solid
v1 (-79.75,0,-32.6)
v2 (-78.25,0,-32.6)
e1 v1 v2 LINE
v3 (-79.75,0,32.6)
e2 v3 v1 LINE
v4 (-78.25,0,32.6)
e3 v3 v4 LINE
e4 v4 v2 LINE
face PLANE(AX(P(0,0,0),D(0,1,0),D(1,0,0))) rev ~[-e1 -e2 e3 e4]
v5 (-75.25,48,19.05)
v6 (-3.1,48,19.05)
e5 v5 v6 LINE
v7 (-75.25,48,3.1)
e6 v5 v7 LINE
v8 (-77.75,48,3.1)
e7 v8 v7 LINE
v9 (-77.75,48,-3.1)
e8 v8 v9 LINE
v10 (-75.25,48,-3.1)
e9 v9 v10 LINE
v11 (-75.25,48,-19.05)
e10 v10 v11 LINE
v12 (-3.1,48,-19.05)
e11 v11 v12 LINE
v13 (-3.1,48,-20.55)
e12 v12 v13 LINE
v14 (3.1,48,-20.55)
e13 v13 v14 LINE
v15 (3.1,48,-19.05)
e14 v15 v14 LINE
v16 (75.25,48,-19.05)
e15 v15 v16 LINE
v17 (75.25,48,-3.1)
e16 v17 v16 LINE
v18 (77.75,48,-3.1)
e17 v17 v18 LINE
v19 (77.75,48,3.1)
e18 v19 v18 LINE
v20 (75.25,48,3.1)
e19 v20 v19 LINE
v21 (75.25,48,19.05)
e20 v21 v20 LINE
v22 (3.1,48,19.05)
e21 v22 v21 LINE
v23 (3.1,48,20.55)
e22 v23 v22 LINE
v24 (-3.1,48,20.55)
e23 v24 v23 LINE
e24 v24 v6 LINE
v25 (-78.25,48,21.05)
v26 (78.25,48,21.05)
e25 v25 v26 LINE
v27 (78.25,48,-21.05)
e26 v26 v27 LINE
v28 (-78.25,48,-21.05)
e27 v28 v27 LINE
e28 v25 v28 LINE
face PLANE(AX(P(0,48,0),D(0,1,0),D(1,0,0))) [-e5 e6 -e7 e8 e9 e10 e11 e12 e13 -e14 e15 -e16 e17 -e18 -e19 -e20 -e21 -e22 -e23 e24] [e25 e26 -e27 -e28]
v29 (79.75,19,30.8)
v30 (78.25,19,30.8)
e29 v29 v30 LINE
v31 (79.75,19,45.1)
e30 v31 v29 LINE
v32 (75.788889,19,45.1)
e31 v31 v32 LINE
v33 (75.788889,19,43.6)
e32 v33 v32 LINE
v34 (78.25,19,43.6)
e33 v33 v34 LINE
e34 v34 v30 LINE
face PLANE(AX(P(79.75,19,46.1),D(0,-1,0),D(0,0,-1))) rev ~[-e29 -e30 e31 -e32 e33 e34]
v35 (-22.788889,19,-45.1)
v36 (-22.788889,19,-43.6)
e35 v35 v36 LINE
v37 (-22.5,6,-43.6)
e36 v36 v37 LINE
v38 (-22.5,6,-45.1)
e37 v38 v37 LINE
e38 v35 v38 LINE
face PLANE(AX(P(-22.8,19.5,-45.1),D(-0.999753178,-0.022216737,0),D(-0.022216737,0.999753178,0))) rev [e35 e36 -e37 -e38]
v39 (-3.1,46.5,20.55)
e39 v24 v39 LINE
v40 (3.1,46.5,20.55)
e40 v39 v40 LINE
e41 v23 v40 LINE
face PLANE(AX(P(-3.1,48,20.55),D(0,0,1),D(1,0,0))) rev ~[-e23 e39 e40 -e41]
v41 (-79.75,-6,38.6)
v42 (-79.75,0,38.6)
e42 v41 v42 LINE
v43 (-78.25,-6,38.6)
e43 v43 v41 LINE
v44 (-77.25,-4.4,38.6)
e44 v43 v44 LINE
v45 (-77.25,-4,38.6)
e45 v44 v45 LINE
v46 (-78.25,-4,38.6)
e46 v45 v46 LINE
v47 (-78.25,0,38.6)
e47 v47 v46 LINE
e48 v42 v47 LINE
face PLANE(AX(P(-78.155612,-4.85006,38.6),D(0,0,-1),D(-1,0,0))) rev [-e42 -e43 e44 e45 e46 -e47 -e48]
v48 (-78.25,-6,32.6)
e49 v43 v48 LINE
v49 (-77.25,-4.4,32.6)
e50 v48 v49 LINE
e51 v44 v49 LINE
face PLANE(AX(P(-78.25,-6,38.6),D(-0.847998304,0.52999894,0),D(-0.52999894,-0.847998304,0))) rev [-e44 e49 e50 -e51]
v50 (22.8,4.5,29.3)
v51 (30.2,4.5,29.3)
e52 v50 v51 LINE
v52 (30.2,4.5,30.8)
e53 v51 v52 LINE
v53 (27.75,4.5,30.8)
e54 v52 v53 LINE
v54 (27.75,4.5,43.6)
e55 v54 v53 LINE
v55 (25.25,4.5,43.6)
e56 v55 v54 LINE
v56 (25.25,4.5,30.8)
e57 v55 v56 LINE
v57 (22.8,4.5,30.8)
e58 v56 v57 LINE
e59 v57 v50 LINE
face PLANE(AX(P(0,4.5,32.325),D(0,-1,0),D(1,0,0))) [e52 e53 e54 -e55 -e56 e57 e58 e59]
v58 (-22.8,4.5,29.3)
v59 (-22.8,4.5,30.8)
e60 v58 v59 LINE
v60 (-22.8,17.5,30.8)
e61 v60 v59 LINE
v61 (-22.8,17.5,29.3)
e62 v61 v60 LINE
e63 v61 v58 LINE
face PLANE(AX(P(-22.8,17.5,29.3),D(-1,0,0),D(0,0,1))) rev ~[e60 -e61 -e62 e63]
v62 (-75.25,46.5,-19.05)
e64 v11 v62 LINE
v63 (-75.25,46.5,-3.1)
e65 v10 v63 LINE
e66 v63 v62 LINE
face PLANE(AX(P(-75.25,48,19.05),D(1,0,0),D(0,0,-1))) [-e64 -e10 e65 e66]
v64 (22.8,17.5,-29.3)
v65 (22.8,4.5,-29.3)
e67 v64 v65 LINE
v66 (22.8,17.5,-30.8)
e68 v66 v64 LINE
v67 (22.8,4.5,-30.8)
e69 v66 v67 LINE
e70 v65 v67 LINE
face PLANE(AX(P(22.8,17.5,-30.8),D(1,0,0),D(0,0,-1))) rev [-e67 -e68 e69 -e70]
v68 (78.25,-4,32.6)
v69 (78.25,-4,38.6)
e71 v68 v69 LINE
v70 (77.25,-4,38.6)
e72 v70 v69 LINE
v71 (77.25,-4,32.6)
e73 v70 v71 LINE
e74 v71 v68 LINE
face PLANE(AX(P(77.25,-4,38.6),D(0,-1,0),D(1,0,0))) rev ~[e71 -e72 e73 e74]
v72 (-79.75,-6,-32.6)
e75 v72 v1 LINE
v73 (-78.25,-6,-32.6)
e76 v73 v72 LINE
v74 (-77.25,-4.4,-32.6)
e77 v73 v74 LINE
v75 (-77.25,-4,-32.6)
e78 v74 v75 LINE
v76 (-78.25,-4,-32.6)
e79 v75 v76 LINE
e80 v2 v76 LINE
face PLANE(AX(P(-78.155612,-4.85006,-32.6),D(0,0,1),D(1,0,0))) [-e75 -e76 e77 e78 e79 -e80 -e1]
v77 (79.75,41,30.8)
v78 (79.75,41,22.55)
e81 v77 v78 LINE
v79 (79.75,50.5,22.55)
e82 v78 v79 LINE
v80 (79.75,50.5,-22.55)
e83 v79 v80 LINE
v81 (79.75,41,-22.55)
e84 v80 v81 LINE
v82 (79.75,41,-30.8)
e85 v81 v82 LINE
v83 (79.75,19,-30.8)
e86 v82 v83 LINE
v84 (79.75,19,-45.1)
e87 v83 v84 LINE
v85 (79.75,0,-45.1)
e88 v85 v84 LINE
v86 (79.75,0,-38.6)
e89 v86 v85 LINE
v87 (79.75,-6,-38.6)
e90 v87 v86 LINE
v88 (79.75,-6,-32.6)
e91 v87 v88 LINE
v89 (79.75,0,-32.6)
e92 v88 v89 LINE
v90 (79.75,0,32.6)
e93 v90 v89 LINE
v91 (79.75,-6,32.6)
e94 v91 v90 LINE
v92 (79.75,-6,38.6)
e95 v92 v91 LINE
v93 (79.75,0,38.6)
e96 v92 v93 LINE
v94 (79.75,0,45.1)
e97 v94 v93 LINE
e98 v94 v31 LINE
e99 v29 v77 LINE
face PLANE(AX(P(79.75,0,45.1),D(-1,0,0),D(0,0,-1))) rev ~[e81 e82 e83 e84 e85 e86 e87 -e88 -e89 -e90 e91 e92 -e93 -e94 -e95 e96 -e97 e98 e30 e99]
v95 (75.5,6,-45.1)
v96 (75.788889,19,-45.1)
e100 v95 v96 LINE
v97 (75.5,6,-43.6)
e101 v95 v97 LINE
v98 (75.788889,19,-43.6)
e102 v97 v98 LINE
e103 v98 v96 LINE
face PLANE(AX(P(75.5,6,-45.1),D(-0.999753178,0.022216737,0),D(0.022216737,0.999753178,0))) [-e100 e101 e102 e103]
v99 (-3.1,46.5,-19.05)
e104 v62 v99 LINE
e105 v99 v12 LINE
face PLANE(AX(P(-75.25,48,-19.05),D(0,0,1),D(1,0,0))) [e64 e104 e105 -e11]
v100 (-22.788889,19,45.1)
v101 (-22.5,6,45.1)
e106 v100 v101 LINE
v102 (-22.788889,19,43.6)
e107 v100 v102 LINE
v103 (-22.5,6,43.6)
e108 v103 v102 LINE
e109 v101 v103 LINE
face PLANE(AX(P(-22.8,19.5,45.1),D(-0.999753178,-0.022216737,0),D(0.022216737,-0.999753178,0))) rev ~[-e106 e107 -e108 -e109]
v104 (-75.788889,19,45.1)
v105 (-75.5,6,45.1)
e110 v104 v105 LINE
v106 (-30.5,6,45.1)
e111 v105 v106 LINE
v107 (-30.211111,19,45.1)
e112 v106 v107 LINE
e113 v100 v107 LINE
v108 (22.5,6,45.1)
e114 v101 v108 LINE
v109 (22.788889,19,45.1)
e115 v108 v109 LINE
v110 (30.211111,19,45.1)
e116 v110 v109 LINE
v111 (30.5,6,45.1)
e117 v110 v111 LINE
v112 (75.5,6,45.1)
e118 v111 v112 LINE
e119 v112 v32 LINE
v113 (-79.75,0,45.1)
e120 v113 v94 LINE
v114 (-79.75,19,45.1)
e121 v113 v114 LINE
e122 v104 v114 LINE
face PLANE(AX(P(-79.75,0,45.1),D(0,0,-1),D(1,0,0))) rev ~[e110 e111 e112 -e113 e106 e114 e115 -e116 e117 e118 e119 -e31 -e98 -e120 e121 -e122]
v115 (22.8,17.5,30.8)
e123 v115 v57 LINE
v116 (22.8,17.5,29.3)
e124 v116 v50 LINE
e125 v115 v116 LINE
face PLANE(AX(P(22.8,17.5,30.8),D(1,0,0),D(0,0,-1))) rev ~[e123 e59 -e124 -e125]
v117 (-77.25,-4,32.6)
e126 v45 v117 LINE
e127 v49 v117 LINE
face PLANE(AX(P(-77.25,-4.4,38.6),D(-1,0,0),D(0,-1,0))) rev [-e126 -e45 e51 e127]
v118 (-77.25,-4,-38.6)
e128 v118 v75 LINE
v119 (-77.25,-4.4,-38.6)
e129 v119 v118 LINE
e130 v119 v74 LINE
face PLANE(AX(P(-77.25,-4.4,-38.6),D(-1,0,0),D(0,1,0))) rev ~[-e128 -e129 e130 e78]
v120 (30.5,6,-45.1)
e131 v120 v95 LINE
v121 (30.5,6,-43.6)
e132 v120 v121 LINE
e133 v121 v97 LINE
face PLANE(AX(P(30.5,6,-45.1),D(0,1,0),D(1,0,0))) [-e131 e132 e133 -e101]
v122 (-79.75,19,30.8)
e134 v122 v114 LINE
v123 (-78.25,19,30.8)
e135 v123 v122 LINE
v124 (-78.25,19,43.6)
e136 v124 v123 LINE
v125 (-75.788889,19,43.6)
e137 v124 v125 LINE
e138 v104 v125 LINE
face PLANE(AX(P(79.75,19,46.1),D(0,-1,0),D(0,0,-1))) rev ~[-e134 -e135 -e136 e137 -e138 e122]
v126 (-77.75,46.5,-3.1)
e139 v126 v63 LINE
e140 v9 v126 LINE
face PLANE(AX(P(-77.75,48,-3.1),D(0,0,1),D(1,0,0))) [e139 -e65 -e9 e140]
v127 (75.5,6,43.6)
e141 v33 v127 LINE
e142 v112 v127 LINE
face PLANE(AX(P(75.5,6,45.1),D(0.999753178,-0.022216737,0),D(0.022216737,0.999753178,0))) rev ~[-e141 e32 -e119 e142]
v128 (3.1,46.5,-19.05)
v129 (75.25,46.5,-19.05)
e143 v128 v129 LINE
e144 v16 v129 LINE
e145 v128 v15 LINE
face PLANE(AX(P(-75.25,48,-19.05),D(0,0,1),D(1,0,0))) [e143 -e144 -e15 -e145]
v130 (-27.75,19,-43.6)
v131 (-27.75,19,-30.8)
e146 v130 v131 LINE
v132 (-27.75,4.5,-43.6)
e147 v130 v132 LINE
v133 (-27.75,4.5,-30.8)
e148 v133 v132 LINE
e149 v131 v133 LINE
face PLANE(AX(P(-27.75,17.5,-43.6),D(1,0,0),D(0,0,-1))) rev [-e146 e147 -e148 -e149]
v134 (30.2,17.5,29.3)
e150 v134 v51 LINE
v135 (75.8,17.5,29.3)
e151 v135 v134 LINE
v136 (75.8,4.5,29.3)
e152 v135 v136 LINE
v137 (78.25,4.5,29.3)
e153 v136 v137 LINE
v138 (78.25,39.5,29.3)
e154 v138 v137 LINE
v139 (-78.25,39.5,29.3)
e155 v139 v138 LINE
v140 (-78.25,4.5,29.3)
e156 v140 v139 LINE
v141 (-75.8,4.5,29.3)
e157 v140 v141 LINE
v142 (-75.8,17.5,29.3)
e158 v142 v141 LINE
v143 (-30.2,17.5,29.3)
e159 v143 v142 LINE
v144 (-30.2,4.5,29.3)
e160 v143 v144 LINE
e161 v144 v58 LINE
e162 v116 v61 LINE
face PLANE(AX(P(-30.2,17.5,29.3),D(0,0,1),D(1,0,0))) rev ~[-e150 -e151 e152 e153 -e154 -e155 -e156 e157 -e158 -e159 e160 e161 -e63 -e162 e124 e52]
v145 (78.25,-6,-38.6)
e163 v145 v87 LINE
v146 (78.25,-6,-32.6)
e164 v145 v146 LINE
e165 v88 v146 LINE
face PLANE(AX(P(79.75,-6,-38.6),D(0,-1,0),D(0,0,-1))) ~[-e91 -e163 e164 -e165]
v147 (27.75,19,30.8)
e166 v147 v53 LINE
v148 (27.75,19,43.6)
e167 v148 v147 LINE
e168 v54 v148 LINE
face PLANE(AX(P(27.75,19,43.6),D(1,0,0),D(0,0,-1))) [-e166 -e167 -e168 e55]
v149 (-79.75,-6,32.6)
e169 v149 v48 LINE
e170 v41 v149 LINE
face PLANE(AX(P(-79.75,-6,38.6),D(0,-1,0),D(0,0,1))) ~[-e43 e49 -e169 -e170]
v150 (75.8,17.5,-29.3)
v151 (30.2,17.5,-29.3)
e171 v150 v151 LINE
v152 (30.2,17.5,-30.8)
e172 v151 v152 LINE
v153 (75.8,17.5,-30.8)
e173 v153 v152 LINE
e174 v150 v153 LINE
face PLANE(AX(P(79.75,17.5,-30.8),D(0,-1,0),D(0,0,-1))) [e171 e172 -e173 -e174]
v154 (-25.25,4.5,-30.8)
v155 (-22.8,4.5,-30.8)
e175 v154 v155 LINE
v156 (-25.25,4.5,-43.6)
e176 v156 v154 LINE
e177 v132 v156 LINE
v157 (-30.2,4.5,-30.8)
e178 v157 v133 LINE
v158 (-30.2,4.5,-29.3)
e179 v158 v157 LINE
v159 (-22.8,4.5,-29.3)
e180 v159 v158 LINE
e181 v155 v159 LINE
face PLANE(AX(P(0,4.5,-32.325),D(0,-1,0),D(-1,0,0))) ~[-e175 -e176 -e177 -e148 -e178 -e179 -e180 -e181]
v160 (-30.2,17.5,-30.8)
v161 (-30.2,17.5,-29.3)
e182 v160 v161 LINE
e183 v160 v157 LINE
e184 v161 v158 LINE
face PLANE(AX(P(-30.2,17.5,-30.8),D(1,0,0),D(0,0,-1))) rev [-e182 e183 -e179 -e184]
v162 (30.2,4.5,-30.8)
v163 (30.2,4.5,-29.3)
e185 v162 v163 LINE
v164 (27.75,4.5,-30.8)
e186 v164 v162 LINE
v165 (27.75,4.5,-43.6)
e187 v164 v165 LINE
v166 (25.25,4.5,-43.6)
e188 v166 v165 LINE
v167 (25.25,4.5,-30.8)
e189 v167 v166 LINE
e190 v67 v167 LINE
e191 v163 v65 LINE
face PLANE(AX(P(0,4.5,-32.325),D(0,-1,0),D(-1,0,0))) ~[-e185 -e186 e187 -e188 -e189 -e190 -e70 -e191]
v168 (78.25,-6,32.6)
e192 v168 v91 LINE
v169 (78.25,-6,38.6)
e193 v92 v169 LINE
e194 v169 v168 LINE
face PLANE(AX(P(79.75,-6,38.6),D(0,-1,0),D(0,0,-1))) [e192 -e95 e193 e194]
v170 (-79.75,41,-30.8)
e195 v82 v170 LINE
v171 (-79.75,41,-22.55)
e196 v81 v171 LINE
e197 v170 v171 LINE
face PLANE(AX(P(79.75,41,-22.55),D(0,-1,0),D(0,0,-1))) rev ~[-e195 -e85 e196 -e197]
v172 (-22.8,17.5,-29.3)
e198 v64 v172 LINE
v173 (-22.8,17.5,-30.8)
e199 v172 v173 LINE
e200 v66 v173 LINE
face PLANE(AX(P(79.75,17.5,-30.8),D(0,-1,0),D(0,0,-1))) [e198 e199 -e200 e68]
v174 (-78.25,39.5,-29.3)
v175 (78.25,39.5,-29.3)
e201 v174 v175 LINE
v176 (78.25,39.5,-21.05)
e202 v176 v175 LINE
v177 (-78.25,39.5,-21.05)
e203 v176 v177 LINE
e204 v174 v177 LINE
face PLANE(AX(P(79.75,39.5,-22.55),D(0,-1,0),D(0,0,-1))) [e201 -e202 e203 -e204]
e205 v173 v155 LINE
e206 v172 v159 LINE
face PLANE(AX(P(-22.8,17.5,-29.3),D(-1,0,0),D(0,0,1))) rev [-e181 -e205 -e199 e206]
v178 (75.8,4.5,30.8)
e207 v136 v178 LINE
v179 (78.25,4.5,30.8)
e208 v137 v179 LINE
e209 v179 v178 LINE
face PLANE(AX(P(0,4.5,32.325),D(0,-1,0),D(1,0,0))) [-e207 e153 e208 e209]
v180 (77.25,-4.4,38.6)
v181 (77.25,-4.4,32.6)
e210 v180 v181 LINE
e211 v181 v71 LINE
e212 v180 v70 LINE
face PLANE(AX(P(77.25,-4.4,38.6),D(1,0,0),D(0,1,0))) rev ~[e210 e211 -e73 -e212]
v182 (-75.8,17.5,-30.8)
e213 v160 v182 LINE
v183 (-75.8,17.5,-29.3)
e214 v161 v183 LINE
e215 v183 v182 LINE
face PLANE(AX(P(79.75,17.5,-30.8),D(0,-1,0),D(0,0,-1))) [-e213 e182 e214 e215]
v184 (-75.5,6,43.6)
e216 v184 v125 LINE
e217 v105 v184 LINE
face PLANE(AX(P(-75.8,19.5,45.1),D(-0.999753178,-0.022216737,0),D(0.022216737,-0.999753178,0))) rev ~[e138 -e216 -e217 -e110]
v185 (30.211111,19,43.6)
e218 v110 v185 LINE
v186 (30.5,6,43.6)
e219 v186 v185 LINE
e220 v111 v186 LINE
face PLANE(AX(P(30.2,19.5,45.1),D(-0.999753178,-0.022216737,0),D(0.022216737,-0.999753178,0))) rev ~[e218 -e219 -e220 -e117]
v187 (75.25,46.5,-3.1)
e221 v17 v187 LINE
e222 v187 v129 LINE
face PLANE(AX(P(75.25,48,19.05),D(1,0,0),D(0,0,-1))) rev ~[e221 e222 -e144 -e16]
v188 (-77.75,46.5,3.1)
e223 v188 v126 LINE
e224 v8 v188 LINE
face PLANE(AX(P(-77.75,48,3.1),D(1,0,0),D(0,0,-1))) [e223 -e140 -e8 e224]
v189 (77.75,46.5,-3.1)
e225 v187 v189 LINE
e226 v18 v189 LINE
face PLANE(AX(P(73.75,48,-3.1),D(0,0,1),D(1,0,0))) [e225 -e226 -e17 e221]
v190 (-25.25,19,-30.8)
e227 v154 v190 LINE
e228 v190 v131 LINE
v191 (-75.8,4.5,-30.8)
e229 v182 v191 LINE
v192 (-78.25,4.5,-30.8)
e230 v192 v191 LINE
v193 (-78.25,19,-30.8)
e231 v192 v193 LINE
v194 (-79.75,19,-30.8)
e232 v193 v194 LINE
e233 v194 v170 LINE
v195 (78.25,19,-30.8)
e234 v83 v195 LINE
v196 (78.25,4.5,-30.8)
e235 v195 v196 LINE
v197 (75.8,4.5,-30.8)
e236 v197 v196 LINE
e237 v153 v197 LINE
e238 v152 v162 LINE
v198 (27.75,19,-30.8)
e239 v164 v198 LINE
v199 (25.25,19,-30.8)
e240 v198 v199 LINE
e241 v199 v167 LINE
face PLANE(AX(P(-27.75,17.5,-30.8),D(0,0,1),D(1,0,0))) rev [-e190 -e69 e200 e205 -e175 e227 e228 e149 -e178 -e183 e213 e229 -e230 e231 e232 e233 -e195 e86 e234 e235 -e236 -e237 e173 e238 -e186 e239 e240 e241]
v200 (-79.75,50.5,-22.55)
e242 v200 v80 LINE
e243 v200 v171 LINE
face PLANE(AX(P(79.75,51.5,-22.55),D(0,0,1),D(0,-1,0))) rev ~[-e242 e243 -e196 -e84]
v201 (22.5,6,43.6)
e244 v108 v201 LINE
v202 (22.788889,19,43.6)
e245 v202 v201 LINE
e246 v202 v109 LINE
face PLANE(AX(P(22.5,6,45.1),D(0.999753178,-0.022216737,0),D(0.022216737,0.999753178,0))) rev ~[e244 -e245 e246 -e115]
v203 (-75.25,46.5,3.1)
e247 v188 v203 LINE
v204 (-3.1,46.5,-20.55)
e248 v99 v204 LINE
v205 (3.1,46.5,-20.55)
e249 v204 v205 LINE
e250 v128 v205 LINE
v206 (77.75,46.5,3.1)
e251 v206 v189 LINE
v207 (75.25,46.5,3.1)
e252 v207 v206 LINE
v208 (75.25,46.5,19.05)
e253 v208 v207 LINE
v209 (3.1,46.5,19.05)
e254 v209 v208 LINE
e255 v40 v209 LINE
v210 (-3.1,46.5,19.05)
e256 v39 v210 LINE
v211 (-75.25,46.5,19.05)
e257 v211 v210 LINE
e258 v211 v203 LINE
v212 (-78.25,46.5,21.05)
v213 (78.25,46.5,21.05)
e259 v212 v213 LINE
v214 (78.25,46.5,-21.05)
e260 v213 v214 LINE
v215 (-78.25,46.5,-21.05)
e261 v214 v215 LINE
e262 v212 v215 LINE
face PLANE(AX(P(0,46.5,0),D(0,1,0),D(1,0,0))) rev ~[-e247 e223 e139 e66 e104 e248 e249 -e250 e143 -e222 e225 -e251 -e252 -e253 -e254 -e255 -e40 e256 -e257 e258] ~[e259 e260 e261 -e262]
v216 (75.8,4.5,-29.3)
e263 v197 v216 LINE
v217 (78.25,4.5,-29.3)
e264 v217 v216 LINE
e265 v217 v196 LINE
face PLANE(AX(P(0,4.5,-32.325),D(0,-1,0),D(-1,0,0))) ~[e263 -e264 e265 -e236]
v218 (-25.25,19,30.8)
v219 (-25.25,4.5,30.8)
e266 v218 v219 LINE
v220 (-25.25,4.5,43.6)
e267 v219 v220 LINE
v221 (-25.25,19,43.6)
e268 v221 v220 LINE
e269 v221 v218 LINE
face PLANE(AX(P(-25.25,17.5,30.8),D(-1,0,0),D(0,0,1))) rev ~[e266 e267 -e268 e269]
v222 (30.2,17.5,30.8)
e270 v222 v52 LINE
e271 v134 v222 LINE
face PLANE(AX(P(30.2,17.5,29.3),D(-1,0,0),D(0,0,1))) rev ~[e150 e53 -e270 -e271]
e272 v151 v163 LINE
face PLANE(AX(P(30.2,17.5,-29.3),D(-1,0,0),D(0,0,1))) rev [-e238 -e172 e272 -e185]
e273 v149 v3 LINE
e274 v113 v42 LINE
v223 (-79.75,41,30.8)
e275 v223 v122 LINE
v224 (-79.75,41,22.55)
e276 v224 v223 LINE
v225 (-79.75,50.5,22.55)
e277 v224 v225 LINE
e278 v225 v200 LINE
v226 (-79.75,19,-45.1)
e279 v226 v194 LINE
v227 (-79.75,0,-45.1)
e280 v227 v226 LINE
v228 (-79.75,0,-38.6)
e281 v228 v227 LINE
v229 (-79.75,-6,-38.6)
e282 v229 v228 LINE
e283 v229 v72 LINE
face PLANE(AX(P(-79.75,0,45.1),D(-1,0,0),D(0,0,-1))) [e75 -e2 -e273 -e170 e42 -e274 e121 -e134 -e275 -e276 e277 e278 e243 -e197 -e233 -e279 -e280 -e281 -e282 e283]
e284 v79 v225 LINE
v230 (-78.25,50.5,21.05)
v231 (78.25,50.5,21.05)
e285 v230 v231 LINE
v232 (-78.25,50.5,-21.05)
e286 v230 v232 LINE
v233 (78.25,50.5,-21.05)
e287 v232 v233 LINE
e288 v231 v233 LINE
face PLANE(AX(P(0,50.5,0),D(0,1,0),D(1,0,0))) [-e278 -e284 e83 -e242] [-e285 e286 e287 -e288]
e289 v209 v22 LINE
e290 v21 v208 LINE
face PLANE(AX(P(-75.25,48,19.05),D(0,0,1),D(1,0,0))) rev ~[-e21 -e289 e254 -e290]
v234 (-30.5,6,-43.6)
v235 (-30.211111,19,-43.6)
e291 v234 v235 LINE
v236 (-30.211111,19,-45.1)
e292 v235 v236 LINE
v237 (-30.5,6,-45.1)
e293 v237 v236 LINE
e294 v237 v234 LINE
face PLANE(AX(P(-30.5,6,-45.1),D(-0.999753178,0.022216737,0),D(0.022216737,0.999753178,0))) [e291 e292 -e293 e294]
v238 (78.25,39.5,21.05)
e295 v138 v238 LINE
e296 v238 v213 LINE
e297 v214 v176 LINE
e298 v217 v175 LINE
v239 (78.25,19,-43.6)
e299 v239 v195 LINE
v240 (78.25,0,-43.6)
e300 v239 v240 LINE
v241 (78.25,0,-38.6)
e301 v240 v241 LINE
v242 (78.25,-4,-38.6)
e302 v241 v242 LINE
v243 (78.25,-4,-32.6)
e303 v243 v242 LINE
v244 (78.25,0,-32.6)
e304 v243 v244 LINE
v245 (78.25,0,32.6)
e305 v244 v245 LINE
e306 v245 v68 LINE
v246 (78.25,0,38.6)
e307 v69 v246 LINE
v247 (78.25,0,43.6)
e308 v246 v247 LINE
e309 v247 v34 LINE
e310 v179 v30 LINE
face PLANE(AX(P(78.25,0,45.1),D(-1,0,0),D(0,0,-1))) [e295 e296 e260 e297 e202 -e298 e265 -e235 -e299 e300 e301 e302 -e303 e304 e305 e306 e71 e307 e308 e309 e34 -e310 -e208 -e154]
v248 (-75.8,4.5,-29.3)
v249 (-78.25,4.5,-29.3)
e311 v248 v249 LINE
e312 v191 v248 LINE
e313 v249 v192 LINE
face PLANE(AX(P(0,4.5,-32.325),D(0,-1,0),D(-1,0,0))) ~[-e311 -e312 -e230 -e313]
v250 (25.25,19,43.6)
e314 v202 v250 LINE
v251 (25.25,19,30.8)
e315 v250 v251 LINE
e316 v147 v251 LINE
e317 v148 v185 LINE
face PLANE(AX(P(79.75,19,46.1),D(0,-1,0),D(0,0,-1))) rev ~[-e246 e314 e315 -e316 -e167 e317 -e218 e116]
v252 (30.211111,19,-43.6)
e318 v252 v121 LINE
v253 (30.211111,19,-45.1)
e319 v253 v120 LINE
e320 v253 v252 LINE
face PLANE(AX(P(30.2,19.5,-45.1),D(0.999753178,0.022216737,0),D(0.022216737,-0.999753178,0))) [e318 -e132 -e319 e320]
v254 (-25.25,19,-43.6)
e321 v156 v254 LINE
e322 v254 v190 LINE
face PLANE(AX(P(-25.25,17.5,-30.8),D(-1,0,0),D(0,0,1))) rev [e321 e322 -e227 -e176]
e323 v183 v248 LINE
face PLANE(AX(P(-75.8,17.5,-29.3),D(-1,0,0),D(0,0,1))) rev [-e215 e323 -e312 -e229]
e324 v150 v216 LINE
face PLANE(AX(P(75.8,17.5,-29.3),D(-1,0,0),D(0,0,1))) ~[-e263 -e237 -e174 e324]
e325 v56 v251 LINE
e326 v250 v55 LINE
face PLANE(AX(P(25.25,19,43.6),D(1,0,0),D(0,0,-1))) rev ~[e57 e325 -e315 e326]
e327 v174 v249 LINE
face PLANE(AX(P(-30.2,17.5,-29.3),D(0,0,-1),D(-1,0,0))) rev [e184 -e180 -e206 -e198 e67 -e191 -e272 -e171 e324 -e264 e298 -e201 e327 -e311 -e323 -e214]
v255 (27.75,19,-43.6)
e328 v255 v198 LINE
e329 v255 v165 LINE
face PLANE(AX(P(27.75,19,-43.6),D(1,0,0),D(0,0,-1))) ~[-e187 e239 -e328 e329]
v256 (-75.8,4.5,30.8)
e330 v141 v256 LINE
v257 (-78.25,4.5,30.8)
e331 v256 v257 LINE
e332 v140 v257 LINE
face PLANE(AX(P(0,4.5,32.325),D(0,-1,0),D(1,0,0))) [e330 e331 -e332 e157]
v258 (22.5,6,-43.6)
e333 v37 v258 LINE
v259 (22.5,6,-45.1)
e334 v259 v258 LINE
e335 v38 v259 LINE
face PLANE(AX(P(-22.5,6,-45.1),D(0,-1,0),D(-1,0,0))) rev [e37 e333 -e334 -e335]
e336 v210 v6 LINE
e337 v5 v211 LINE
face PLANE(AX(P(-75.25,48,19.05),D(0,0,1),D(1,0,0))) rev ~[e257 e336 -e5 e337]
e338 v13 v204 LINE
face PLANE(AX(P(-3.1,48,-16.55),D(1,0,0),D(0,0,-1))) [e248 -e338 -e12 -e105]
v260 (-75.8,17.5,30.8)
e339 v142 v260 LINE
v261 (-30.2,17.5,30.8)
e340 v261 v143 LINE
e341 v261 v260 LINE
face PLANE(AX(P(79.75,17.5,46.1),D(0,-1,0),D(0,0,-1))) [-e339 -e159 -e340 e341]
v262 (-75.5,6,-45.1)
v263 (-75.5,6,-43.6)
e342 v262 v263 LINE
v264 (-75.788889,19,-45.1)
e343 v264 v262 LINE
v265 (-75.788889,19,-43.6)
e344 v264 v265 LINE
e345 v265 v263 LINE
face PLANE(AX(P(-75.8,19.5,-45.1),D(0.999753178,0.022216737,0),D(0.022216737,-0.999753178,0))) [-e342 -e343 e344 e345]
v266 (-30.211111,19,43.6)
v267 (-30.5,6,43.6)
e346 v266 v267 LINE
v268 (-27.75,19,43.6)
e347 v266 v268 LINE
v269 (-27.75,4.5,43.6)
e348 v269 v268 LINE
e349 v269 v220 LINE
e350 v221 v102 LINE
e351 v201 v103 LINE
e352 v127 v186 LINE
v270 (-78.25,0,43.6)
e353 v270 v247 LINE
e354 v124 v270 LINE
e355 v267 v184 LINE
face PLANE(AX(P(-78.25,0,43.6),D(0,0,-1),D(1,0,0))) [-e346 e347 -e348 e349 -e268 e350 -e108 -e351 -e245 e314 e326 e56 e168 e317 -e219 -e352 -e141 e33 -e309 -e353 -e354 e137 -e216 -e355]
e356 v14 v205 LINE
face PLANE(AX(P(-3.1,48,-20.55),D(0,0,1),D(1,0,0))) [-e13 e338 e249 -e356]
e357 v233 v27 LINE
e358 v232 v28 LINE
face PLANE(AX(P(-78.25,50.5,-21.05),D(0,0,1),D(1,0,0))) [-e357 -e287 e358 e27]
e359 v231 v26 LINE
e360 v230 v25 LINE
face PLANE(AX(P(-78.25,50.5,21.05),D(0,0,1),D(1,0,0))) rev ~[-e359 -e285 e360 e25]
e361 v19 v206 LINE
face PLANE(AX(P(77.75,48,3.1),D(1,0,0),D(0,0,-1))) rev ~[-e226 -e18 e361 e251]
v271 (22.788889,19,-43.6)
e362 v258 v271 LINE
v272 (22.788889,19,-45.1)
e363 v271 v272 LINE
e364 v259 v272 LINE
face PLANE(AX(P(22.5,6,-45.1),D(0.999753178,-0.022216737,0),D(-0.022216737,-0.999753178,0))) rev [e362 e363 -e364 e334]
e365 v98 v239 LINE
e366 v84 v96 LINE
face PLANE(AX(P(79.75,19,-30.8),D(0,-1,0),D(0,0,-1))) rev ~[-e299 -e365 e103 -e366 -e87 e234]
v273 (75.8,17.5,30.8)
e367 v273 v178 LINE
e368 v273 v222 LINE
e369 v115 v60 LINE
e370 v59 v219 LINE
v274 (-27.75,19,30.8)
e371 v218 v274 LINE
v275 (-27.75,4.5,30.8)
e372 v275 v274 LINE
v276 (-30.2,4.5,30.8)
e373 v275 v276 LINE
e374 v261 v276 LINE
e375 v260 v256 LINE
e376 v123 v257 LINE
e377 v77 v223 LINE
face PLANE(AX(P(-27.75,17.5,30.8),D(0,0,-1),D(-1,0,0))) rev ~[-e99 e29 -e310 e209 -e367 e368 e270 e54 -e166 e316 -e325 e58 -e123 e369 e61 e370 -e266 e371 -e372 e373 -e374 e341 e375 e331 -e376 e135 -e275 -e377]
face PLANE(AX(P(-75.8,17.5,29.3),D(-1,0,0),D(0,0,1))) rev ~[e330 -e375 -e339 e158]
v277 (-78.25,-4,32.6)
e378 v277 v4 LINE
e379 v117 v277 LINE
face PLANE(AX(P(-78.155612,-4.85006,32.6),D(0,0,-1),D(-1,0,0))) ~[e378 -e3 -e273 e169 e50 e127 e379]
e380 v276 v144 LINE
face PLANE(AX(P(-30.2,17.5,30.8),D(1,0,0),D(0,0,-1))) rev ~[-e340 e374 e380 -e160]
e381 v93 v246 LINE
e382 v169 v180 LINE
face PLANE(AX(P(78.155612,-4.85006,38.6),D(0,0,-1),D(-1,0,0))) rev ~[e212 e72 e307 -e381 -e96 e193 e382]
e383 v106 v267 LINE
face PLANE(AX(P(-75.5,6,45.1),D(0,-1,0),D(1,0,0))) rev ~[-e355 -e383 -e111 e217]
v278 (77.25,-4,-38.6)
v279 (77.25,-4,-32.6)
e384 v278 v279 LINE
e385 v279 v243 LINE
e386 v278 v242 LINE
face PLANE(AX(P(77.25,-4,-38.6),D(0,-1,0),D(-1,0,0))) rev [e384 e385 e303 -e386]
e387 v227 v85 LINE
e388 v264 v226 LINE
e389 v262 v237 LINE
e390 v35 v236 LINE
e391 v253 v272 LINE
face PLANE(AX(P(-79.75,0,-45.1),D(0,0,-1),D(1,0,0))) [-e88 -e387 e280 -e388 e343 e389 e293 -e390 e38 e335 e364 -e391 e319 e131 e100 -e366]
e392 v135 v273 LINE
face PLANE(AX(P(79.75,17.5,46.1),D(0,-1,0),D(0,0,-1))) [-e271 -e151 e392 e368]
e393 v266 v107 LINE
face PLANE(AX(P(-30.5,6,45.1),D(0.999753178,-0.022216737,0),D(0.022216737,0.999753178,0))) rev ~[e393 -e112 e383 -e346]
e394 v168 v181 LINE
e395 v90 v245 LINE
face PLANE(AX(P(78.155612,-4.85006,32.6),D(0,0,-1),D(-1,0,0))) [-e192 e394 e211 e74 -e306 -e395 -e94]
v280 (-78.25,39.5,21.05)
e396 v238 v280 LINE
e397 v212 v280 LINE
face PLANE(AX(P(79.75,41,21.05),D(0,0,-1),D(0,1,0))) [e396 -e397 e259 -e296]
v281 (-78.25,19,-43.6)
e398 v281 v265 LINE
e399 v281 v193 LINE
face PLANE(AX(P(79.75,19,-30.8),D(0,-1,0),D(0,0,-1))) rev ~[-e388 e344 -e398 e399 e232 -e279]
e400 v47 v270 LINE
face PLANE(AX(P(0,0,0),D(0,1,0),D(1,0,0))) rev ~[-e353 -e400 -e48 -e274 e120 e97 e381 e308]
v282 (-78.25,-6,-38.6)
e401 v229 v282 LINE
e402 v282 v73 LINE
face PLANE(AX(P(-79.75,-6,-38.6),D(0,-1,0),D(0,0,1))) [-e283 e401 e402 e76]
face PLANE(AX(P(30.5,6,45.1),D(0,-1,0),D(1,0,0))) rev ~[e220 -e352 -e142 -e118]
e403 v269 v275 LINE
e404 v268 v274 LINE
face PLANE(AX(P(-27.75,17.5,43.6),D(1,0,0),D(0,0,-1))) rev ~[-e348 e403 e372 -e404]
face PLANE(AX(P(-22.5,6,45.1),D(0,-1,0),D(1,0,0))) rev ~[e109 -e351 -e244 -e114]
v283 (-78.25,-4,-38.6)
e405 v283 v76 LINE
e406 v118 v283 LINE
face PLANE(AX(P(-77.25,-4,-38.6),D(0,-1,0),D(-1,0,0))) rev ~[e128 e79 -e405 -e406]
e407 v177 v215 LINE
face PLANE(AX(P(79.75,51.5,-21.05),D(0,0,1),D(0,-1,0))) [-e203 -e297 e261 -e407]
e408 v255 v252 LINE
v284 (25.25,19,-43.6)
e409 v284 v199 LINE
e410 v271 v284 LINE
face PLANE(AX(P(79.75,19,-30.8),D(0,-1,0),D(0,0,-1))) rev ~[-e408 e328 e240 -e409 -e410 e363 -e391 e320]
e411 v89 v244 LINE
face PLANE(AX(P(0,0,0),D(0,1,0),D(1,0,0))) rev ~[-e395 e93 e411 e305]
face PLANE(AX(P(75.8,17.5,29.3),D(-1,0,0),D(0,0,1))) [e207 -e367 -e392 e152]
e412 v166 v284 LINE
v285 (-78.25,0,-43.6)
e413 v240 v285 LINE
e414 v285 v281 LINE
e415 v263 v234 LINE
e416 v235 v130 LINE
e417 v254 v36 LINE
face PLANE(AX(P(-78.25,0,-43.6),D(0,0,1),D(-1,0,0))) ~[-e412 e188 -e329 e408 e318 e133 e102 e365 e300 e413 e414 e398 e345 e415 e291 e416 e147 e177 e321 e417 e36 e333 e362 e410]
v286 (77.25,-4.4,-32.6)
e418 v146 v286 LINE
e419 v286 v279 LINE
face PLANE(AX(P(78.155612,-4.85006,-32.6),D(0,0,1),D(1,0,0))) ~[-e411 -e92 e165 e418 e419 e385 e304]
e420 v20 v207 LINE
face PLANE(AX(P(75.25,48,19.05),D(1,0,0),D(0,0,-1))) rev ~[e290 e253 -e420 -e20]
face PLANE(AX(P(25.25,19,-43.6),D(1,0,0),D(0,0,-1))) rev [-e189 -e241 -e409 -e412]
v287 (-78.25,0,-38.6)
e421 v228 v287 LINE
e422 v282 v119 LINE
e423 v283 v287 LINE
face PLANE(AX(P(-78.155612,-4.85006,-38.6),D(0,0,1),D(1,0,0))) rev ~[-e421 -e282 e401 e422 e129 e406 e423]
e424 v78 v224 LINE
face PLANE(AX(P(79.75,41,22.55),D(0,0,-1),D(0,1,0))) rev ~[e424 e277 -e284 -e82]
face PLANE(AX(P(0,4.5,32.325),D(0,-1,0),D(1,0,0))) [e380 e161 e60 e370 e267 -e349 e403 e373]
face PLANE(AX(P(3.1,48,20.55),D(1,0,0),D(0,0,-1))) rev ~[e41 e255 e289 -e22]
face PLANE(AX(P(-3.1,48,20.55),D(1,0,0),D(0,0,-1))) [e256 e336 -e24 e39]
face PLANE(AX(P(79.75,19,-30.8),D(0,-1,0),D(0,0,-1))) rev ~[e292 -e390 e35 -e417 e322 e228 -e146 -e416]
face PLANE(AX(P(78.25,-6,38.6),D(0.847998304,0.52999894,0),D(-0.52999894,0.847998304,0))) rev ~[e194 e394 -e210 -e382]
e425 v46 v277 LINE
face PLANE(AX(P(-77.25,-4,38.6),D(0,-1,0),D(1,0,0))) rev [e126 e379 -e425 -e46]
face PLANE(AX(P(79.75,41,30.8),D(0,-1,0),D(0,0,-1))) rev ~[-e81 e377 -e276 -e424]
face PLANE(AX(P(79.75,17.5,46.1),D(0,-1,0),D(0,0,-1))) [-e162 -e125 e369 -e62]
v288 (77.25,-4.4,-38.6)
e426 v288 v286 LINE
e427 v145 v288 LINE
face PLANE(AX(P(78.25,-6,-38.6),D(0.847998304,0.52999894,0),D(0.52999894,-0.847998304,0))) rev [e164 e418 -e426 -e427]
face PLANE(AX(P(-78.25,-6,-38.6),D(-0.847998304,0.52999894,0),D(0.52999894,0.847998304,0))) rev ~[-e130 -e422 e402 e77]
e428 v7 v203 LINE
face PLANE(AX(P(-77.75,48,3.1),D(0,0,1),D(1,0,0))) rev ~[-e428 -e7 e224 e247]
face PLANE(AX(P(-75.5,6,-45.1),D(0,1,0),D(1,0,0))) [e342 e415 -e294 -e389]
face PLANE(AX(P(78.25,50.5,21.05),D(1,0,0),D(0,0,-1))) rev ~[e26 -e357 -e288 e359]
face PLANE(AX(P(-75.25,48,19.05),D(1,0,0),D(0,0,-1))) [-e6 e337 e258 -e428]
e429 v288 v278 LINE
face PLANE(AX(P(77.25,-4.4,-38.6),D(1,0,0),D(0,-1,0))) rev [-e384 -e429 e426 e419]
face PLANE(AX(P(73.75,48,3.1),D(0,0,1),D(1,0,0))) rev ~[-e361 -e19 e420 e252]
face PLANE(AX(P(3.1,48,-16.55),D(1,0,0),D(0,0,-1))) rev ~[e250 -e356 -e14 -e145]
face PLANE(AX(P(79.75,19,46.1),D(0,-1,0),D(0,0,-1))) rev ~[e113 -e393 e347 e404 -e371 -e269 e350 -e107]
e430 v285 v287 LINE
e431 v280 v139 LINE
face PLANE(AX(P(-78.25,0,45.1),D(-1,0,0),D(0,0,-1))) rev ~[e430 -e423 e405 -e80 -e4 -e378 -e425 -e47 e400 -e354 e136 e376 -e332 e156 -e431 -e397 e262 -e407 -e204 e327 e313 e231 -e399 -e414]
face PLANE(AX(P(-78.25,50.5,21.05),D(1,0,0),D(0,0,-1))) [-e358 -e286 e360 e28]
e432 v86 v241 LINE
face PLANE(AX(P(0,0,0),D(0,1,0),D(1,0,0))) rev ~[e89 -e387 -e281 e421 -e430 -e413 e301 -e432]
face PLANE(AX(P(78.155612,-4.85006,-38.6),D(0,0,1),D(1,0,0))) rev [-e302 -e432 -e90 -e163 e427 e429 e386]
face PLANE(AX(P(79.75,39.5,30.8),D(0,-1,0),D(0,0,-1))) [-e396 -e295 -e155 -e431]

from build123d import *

# Parameters (mm, degrees)
SKETCH_1_W                 = 159.5
SKETCH_1_H                 = 90.2
EXTRUDE_1_DEPTH            = 50.5
CUT_EXTRUDE_1_DEPTH        = 174.275820587
SHELL_1_T                  = -1.5
SKETCH_3_W                 = 6
SKETCH_3_H                 = 6
EXTRUDE_3_DEPTH            = 1.5
EXTRUDE_4_DEPTH            = 6
MIRROR_2_COPY_1_SKETCH_W   = 6
MIRROR_2_COPY_1_SKETCH_H   = 6
MIRROR_2_COPY_1_DEPTH      = 1.5
MIRROR_2_COPY_2_DEPTH      = 6
SKETCH_6_W                 = 50.5
SKETCH_6_H                 = 12.8
CUT_EXTRUDE_2_DEPTH        = 20
CUT_EXTRUDE_3_DEPTH        = 10
PATTERN_LINEAR_1_COUNT     = 2
PATTERN_LINEAR_1_PITCH     = 53
PATTERN_LINEAR_1_COL_COUNT = 2
PATTERN_LINEAR_1_COL_PITCH = 53
SKETCH_8_W                 = 2.45
SKETCH_8_H                 = 1.5
EXTRUDE_5_DEPTH            = 16
SKETCH_9_W                 = 156.5
SKETCH_9_H                 = 22.55
CUT_EXTRUDE_4_DEPTH        = 4.5
MIRROR_3_COPY_1_DEPTH      = 10
MIRROR_3_COPY_2_DEPTH      = 10
SKETCH_10_W                = 159.5
SKETCH_10_H                = 45.1
EXTRUDE_6_DEPTH            = 4
SKETCH_11_W                = 156.5
SKETCH_11_H                = 42.1
CUT_EXTRUDE_6_DEPTH        = 2.5
SKETCH_12_W                = 150.5
SKETCH_12_H                = 38.1
CUT_EXTRUDE_7_DEPTH        = 4
SKETCH_13_W                = 4
SKETCH_13_H                = 6.2
SKETCH_13_W_2              = 6.2
SKETCH_13_H_2              = 4
CUT_EXTRUDE_8_DEPTH        = 4


with BuildPart() as part:
    # Эскиз1 → Бобышка-Вытянуть1 (new body)
    with BuildSketch(Plane(origin=(0, 0, 0), x_dir=(1, 0, 0), z_dir=(0, 1, 0))):
        Rectangle(SKETCH_1_W, SKETCH_1_H)
    extrude(amount=EXTRUDE_1_DEPTH)

    # Эскиз2 → Вырез-Вытянуть1 (cut, through all)
    with BuildSketch(Plane(origin=(79.75, 0, 0), x_dir=(0, 0, -1), z_dir=(1, 0, 0))):
        Polygon((-46.1, 19), (-30.8, 19), (-30.8, 41), (-22.55, 41), (-22.55, 51.5), (22.55, 51.5), (22.55, 41), (30.8, 41), (30.8, 19), (46.1, 19), (46.1, 52.5), (-46.1, 52.5), align=None)
    extrude(amount=-CUT_EXTRUDE_1_DEPTH, mode=Mode.SUBTRACT)

    # Оболочка1
    shell_1_openings = [part.faces().sort_by_distance(p)[0] for p in [
        (0, 0, 0),
    ]]
    offset(amount=SHELL_1_T, openings=shell_1_openings, kind=Kind.INTERSECTION)

    # Эскиз3 → Бобышка-Вытянуть3 (add)
    with BuildSketch(Plane(origin=(79.75, 0, 0), x_dir=(0, 0, -1), z_dir=(1, 0, 0))):
        with Locations((-35.6, -3)):
            Rectangle(SKETCH_3_W, SKETCH_3_H)
    extrude_3 = extrude(amount=-EXTRUDE_3_DEPTH)

    # Эскиз4 → Бобышка-Вытянуть4 (add)
    with BuildSketch(Plane.XY.offset(38.6)):
        Polygon((78.25, -6), (77.25, -4.4), (77.25, -4), (78.75, -4), (78.75, -6), align=None)
    extrude_4 = extrude(amount=-EXTRUDE_4_DEPTH)

    # Зеркальное отражение1: Бобышка-Вытянуть3, Бобышка-Вытянуть4 across plane
    add(extrude_3.mirror(Plane.XY))
    add(extrude_4.mirror(Plane.XY))

    # Зеркальное отражение2: Бобышка-Вытянуть3, Бобышка-Вытянуть4 across plane
    add(extrude_3.mirror(Plane(origin=(0, 0, 0), x_dir=(0, 0, 1), z_dir=(1, 0, 0))))
    add(extrude_4.mirror(Plane(origin=(0, 0, 0), x_dir=(0, 0, 1), z_dir=(1, 0, 0))))

    # Зеркальное отражение2 copy 1 sketch → Зеркальное отражение2 copy 1 (add)
    with BuildSketch(Plane.ZY.offset(79.75)):
        with Locations((-35.6, -3)):
            Rectangle(MIRROR_2_COPY_1_SKETCH_W, MIRROR_2_COPY_1_SKETCH_H)
    extrude(amount=-MIRROR_2_COPY_1_DEPTH)

    # Зеркальное отражение2 copy 2 sketch → Зеркальное отражение2 copy 2 (add)
    with BuildSketch(Plane(origin=(0, 0, -38.6), x_dir=(-1, 0, 0), z_dir=(0, 0, -1))):
        Polygon((78.25, -6), (77.25, -4.4), (77.25, -4), (78.75, -4), (78.75, -6), align=None)
    extrude(amount=-MIRROR_2_COPY_2_DEPTH)

    # Эскиз6 → Вырез-Вытянуть2 (cut)
    with BuildSketch(Plane(origin=(0, 19, 0), x_dir=(1, 0, 0), z_dir=(0, 1, 0))):
        with Locations((0, -37.2)):
            Rectangle(SKETCH_6_W, SKETCH_6_H)
        with Locations((-53, -37.2)):
            Rectangle(SKETCH_6_W, SKETCH_6_H)
        with Locations((53, -37.2)):
            Rectangle(SKETCH_6_W, SKETCH_6_H)
    cut_extrude_2 = extrude(amount=-CUT_EXTRUDE_2_DEPTH, mode=Mode.SUBTRACT)

    # Эскиз7 → Вырез-Вытянуть3 (cut)
    with BuildSketch(Plane.XY.offset(45.1)):
        Polygon((-22.8, 19.5), (-22.5, 6), (22.5, 6), (22.8, 19.5), align=None)
    cut_extrude_3 = extrude(amount=-CUT_EXTRUDE_3_DEPTH, mode=Mode.SUBTRACT)

    # Линейный массив1: Вырез-Вытянуть3 ×2
    with Locations(*[(i * PATTERN_LINEAR_1_PITCH, 0, 0) for i in range(1, PATTERN_LINEAR_1_COUNT)]):
        add(cut_extrude_3, mode=Mode.SUBTRACT)

    # Линейный массив1 col: Вырез-Вытянуть3 ×2
    with Locations(*[(-i * PATTERN_LINEAR_1_COL_PITCH, 0, 0) for i in range(1, PATTERN_LINEAR_1_COL_COUNT)]):
        add(cut_extrude_3, mode=Mode.SUBTRACT)

    # Эскиз8 → Бобышка-Вытянуть5 (add)
    with BuildSketch(Plane.XZ.offset(-17.5)):
        Polygon((-30.2, 30.8), (-30.2, 29.3), (-22.8, 29.3), (-22.8, 30.8), (-25.25, 30.8), (-25.25, 43.6), (-27.75, 43.6), (-27.75, 30.8), align=None)
        Polygon((22.8, 30.8), (22.8, 29.3), (30.2, 29.3), (30.2, 30.8), (27.75, 30.8), (27.75, 43.6), (25.25, 43.6), (25.25, 30.8), align=None)
        with Locations((-77.025, 30.05)):
            Rectangle(SKETCH_8_W, SKETCH_8_H)
        with Locations((77.025, 30.05)):
            Rectangle(SKETCH_8_W, SKETCH_8_H)
    extrude_5 = extrude(amount=EXTRUDE_5_DEPTH)

    # Эскиз9 → Вырез-Вытянуть4 (cut)
    with BuildSketch(Plane.XZ):
        with Locations((0, 32.325)):
            Rectangle(SKETCH_9_W, SKETCH_9_H)
    cut_extrude_4 = extrude(amount=-CUT_EXTRUDE_4_DEPTH, mode=Mode.SUBTRACT)

    # Зеркальное отражение3: Вырез-Вытянуть2, Вырез-Вытянуть3, Бобышка-Вытянуть5, Вырез-Вытянуть4 across plane
    add(cut_extrude_2.mirror(Plane.XY), mode=Mode.SUBTRACT)
    add(cut_extrude_3.mirror(Plane.XY), mode=Mode.SUBTRACT)
    add(extrude_5.mirror(Plane.XY))
    add(cut_extrude_4.mirror(Plane.XY), mode=Mode.SUBTRACT)

    # Зеркальное отражение3 copy 1 sketch → Зеркальное отражение3 copy 1 (cut)
    with BuildSketch(Plane(origin=(53, 0, -45.1), x_dir=(1, 0, 0), z_dir=(0, 0, -1))):
        Polygon((-22.8, -19.5), (-22.5, -6), (22.5, -6), (22.8, -19.5), align=None)
    extrude(amount=-MIRROR_3_COPY_1_DEPTH, mode=Mode.SUBTRACT)

    # Зеркальное отражение3 copy 2 sketch → Зеркальное отражение3 copy 2 (cut)
    with BuildSketch(Plane(origin=(-53, 0, -45.1), x_dir=(1, 0, 0), z_dir=(0, 0, -1))):
        Polygon((-22.8, -19.5), (-22.5, -6), (22.5, -6), (22.8, -19.5), align=None)
    extrude(amount=-MIRROR_3_COPY_2_DEPTH, mode=Mode.SUBTRACT)

    # Эскиз10 → Бобышка-Вытянуть6 (add)
    with BuildSketch(Plane(origin=(0, 50.5, 0), x_dir=(1, 0, 0), z_dir=(0, 1, 0))):
        Rectangle(SKETCH_10_W, SKETCH_10_H)
    extrude(amount=-EXTRUDE_6_DEPTH)

    # Эскиз11 → Вырез-Вытянуть6 (cut)
    with BuildSketch(Plane(origin=(0, 50.5, 0), x_dir=(1, 0, 0), z_dir=(0, 1, 0))):
        Rectangle(SKETCH_11_W, SKETCH_11_H)
    extrude(amount=-CUT_EXTRUDE_6_DEPTH, mode=Mode.SUBTRACT)

    # Эскиз12 → Вырез-Вытянуть7 (cut)
    with BuildSketch(Plane(origin=(0, 48, 0), x_dir=(1, 0, 0), z_dir=(0, 1, 0))):
        Rectangle(SKETCH_12_W, SKETCH_12_H)
    extrude(amount=-CUT_EXTRUDE_7_DEPTH, mode=Mode.SUBTRACT)

    # Эскиз13 → Вырез-Вытянуть8 (cut)
    with BuildSketch(Plane(origin=(0, 48, 0), x_dir=(1, 0, 0), z_dir=(0, 1, 0))):
        with Locations((-75.75, 0)):
            Rectangle(SKETCH_13_W, SKETCH_13_H)
        with Locations((0, 18.55)):
            Rectangle(SKETCH_13_W_2, SKETCH_13_H_2)
        with Locations((0, -18.55)):
            Rectangle(SKETCH_13_W_2, SKETCH_13_H_2)
        with Locations((75.75, 0)):
            Rectangle(SKETCH_13_W, SKETCH_13_H)
    extrude(amount=-CUT_EXTRUDE_8_DEPTH, mode=Mode.SUBTRACT)


solid = part.part
